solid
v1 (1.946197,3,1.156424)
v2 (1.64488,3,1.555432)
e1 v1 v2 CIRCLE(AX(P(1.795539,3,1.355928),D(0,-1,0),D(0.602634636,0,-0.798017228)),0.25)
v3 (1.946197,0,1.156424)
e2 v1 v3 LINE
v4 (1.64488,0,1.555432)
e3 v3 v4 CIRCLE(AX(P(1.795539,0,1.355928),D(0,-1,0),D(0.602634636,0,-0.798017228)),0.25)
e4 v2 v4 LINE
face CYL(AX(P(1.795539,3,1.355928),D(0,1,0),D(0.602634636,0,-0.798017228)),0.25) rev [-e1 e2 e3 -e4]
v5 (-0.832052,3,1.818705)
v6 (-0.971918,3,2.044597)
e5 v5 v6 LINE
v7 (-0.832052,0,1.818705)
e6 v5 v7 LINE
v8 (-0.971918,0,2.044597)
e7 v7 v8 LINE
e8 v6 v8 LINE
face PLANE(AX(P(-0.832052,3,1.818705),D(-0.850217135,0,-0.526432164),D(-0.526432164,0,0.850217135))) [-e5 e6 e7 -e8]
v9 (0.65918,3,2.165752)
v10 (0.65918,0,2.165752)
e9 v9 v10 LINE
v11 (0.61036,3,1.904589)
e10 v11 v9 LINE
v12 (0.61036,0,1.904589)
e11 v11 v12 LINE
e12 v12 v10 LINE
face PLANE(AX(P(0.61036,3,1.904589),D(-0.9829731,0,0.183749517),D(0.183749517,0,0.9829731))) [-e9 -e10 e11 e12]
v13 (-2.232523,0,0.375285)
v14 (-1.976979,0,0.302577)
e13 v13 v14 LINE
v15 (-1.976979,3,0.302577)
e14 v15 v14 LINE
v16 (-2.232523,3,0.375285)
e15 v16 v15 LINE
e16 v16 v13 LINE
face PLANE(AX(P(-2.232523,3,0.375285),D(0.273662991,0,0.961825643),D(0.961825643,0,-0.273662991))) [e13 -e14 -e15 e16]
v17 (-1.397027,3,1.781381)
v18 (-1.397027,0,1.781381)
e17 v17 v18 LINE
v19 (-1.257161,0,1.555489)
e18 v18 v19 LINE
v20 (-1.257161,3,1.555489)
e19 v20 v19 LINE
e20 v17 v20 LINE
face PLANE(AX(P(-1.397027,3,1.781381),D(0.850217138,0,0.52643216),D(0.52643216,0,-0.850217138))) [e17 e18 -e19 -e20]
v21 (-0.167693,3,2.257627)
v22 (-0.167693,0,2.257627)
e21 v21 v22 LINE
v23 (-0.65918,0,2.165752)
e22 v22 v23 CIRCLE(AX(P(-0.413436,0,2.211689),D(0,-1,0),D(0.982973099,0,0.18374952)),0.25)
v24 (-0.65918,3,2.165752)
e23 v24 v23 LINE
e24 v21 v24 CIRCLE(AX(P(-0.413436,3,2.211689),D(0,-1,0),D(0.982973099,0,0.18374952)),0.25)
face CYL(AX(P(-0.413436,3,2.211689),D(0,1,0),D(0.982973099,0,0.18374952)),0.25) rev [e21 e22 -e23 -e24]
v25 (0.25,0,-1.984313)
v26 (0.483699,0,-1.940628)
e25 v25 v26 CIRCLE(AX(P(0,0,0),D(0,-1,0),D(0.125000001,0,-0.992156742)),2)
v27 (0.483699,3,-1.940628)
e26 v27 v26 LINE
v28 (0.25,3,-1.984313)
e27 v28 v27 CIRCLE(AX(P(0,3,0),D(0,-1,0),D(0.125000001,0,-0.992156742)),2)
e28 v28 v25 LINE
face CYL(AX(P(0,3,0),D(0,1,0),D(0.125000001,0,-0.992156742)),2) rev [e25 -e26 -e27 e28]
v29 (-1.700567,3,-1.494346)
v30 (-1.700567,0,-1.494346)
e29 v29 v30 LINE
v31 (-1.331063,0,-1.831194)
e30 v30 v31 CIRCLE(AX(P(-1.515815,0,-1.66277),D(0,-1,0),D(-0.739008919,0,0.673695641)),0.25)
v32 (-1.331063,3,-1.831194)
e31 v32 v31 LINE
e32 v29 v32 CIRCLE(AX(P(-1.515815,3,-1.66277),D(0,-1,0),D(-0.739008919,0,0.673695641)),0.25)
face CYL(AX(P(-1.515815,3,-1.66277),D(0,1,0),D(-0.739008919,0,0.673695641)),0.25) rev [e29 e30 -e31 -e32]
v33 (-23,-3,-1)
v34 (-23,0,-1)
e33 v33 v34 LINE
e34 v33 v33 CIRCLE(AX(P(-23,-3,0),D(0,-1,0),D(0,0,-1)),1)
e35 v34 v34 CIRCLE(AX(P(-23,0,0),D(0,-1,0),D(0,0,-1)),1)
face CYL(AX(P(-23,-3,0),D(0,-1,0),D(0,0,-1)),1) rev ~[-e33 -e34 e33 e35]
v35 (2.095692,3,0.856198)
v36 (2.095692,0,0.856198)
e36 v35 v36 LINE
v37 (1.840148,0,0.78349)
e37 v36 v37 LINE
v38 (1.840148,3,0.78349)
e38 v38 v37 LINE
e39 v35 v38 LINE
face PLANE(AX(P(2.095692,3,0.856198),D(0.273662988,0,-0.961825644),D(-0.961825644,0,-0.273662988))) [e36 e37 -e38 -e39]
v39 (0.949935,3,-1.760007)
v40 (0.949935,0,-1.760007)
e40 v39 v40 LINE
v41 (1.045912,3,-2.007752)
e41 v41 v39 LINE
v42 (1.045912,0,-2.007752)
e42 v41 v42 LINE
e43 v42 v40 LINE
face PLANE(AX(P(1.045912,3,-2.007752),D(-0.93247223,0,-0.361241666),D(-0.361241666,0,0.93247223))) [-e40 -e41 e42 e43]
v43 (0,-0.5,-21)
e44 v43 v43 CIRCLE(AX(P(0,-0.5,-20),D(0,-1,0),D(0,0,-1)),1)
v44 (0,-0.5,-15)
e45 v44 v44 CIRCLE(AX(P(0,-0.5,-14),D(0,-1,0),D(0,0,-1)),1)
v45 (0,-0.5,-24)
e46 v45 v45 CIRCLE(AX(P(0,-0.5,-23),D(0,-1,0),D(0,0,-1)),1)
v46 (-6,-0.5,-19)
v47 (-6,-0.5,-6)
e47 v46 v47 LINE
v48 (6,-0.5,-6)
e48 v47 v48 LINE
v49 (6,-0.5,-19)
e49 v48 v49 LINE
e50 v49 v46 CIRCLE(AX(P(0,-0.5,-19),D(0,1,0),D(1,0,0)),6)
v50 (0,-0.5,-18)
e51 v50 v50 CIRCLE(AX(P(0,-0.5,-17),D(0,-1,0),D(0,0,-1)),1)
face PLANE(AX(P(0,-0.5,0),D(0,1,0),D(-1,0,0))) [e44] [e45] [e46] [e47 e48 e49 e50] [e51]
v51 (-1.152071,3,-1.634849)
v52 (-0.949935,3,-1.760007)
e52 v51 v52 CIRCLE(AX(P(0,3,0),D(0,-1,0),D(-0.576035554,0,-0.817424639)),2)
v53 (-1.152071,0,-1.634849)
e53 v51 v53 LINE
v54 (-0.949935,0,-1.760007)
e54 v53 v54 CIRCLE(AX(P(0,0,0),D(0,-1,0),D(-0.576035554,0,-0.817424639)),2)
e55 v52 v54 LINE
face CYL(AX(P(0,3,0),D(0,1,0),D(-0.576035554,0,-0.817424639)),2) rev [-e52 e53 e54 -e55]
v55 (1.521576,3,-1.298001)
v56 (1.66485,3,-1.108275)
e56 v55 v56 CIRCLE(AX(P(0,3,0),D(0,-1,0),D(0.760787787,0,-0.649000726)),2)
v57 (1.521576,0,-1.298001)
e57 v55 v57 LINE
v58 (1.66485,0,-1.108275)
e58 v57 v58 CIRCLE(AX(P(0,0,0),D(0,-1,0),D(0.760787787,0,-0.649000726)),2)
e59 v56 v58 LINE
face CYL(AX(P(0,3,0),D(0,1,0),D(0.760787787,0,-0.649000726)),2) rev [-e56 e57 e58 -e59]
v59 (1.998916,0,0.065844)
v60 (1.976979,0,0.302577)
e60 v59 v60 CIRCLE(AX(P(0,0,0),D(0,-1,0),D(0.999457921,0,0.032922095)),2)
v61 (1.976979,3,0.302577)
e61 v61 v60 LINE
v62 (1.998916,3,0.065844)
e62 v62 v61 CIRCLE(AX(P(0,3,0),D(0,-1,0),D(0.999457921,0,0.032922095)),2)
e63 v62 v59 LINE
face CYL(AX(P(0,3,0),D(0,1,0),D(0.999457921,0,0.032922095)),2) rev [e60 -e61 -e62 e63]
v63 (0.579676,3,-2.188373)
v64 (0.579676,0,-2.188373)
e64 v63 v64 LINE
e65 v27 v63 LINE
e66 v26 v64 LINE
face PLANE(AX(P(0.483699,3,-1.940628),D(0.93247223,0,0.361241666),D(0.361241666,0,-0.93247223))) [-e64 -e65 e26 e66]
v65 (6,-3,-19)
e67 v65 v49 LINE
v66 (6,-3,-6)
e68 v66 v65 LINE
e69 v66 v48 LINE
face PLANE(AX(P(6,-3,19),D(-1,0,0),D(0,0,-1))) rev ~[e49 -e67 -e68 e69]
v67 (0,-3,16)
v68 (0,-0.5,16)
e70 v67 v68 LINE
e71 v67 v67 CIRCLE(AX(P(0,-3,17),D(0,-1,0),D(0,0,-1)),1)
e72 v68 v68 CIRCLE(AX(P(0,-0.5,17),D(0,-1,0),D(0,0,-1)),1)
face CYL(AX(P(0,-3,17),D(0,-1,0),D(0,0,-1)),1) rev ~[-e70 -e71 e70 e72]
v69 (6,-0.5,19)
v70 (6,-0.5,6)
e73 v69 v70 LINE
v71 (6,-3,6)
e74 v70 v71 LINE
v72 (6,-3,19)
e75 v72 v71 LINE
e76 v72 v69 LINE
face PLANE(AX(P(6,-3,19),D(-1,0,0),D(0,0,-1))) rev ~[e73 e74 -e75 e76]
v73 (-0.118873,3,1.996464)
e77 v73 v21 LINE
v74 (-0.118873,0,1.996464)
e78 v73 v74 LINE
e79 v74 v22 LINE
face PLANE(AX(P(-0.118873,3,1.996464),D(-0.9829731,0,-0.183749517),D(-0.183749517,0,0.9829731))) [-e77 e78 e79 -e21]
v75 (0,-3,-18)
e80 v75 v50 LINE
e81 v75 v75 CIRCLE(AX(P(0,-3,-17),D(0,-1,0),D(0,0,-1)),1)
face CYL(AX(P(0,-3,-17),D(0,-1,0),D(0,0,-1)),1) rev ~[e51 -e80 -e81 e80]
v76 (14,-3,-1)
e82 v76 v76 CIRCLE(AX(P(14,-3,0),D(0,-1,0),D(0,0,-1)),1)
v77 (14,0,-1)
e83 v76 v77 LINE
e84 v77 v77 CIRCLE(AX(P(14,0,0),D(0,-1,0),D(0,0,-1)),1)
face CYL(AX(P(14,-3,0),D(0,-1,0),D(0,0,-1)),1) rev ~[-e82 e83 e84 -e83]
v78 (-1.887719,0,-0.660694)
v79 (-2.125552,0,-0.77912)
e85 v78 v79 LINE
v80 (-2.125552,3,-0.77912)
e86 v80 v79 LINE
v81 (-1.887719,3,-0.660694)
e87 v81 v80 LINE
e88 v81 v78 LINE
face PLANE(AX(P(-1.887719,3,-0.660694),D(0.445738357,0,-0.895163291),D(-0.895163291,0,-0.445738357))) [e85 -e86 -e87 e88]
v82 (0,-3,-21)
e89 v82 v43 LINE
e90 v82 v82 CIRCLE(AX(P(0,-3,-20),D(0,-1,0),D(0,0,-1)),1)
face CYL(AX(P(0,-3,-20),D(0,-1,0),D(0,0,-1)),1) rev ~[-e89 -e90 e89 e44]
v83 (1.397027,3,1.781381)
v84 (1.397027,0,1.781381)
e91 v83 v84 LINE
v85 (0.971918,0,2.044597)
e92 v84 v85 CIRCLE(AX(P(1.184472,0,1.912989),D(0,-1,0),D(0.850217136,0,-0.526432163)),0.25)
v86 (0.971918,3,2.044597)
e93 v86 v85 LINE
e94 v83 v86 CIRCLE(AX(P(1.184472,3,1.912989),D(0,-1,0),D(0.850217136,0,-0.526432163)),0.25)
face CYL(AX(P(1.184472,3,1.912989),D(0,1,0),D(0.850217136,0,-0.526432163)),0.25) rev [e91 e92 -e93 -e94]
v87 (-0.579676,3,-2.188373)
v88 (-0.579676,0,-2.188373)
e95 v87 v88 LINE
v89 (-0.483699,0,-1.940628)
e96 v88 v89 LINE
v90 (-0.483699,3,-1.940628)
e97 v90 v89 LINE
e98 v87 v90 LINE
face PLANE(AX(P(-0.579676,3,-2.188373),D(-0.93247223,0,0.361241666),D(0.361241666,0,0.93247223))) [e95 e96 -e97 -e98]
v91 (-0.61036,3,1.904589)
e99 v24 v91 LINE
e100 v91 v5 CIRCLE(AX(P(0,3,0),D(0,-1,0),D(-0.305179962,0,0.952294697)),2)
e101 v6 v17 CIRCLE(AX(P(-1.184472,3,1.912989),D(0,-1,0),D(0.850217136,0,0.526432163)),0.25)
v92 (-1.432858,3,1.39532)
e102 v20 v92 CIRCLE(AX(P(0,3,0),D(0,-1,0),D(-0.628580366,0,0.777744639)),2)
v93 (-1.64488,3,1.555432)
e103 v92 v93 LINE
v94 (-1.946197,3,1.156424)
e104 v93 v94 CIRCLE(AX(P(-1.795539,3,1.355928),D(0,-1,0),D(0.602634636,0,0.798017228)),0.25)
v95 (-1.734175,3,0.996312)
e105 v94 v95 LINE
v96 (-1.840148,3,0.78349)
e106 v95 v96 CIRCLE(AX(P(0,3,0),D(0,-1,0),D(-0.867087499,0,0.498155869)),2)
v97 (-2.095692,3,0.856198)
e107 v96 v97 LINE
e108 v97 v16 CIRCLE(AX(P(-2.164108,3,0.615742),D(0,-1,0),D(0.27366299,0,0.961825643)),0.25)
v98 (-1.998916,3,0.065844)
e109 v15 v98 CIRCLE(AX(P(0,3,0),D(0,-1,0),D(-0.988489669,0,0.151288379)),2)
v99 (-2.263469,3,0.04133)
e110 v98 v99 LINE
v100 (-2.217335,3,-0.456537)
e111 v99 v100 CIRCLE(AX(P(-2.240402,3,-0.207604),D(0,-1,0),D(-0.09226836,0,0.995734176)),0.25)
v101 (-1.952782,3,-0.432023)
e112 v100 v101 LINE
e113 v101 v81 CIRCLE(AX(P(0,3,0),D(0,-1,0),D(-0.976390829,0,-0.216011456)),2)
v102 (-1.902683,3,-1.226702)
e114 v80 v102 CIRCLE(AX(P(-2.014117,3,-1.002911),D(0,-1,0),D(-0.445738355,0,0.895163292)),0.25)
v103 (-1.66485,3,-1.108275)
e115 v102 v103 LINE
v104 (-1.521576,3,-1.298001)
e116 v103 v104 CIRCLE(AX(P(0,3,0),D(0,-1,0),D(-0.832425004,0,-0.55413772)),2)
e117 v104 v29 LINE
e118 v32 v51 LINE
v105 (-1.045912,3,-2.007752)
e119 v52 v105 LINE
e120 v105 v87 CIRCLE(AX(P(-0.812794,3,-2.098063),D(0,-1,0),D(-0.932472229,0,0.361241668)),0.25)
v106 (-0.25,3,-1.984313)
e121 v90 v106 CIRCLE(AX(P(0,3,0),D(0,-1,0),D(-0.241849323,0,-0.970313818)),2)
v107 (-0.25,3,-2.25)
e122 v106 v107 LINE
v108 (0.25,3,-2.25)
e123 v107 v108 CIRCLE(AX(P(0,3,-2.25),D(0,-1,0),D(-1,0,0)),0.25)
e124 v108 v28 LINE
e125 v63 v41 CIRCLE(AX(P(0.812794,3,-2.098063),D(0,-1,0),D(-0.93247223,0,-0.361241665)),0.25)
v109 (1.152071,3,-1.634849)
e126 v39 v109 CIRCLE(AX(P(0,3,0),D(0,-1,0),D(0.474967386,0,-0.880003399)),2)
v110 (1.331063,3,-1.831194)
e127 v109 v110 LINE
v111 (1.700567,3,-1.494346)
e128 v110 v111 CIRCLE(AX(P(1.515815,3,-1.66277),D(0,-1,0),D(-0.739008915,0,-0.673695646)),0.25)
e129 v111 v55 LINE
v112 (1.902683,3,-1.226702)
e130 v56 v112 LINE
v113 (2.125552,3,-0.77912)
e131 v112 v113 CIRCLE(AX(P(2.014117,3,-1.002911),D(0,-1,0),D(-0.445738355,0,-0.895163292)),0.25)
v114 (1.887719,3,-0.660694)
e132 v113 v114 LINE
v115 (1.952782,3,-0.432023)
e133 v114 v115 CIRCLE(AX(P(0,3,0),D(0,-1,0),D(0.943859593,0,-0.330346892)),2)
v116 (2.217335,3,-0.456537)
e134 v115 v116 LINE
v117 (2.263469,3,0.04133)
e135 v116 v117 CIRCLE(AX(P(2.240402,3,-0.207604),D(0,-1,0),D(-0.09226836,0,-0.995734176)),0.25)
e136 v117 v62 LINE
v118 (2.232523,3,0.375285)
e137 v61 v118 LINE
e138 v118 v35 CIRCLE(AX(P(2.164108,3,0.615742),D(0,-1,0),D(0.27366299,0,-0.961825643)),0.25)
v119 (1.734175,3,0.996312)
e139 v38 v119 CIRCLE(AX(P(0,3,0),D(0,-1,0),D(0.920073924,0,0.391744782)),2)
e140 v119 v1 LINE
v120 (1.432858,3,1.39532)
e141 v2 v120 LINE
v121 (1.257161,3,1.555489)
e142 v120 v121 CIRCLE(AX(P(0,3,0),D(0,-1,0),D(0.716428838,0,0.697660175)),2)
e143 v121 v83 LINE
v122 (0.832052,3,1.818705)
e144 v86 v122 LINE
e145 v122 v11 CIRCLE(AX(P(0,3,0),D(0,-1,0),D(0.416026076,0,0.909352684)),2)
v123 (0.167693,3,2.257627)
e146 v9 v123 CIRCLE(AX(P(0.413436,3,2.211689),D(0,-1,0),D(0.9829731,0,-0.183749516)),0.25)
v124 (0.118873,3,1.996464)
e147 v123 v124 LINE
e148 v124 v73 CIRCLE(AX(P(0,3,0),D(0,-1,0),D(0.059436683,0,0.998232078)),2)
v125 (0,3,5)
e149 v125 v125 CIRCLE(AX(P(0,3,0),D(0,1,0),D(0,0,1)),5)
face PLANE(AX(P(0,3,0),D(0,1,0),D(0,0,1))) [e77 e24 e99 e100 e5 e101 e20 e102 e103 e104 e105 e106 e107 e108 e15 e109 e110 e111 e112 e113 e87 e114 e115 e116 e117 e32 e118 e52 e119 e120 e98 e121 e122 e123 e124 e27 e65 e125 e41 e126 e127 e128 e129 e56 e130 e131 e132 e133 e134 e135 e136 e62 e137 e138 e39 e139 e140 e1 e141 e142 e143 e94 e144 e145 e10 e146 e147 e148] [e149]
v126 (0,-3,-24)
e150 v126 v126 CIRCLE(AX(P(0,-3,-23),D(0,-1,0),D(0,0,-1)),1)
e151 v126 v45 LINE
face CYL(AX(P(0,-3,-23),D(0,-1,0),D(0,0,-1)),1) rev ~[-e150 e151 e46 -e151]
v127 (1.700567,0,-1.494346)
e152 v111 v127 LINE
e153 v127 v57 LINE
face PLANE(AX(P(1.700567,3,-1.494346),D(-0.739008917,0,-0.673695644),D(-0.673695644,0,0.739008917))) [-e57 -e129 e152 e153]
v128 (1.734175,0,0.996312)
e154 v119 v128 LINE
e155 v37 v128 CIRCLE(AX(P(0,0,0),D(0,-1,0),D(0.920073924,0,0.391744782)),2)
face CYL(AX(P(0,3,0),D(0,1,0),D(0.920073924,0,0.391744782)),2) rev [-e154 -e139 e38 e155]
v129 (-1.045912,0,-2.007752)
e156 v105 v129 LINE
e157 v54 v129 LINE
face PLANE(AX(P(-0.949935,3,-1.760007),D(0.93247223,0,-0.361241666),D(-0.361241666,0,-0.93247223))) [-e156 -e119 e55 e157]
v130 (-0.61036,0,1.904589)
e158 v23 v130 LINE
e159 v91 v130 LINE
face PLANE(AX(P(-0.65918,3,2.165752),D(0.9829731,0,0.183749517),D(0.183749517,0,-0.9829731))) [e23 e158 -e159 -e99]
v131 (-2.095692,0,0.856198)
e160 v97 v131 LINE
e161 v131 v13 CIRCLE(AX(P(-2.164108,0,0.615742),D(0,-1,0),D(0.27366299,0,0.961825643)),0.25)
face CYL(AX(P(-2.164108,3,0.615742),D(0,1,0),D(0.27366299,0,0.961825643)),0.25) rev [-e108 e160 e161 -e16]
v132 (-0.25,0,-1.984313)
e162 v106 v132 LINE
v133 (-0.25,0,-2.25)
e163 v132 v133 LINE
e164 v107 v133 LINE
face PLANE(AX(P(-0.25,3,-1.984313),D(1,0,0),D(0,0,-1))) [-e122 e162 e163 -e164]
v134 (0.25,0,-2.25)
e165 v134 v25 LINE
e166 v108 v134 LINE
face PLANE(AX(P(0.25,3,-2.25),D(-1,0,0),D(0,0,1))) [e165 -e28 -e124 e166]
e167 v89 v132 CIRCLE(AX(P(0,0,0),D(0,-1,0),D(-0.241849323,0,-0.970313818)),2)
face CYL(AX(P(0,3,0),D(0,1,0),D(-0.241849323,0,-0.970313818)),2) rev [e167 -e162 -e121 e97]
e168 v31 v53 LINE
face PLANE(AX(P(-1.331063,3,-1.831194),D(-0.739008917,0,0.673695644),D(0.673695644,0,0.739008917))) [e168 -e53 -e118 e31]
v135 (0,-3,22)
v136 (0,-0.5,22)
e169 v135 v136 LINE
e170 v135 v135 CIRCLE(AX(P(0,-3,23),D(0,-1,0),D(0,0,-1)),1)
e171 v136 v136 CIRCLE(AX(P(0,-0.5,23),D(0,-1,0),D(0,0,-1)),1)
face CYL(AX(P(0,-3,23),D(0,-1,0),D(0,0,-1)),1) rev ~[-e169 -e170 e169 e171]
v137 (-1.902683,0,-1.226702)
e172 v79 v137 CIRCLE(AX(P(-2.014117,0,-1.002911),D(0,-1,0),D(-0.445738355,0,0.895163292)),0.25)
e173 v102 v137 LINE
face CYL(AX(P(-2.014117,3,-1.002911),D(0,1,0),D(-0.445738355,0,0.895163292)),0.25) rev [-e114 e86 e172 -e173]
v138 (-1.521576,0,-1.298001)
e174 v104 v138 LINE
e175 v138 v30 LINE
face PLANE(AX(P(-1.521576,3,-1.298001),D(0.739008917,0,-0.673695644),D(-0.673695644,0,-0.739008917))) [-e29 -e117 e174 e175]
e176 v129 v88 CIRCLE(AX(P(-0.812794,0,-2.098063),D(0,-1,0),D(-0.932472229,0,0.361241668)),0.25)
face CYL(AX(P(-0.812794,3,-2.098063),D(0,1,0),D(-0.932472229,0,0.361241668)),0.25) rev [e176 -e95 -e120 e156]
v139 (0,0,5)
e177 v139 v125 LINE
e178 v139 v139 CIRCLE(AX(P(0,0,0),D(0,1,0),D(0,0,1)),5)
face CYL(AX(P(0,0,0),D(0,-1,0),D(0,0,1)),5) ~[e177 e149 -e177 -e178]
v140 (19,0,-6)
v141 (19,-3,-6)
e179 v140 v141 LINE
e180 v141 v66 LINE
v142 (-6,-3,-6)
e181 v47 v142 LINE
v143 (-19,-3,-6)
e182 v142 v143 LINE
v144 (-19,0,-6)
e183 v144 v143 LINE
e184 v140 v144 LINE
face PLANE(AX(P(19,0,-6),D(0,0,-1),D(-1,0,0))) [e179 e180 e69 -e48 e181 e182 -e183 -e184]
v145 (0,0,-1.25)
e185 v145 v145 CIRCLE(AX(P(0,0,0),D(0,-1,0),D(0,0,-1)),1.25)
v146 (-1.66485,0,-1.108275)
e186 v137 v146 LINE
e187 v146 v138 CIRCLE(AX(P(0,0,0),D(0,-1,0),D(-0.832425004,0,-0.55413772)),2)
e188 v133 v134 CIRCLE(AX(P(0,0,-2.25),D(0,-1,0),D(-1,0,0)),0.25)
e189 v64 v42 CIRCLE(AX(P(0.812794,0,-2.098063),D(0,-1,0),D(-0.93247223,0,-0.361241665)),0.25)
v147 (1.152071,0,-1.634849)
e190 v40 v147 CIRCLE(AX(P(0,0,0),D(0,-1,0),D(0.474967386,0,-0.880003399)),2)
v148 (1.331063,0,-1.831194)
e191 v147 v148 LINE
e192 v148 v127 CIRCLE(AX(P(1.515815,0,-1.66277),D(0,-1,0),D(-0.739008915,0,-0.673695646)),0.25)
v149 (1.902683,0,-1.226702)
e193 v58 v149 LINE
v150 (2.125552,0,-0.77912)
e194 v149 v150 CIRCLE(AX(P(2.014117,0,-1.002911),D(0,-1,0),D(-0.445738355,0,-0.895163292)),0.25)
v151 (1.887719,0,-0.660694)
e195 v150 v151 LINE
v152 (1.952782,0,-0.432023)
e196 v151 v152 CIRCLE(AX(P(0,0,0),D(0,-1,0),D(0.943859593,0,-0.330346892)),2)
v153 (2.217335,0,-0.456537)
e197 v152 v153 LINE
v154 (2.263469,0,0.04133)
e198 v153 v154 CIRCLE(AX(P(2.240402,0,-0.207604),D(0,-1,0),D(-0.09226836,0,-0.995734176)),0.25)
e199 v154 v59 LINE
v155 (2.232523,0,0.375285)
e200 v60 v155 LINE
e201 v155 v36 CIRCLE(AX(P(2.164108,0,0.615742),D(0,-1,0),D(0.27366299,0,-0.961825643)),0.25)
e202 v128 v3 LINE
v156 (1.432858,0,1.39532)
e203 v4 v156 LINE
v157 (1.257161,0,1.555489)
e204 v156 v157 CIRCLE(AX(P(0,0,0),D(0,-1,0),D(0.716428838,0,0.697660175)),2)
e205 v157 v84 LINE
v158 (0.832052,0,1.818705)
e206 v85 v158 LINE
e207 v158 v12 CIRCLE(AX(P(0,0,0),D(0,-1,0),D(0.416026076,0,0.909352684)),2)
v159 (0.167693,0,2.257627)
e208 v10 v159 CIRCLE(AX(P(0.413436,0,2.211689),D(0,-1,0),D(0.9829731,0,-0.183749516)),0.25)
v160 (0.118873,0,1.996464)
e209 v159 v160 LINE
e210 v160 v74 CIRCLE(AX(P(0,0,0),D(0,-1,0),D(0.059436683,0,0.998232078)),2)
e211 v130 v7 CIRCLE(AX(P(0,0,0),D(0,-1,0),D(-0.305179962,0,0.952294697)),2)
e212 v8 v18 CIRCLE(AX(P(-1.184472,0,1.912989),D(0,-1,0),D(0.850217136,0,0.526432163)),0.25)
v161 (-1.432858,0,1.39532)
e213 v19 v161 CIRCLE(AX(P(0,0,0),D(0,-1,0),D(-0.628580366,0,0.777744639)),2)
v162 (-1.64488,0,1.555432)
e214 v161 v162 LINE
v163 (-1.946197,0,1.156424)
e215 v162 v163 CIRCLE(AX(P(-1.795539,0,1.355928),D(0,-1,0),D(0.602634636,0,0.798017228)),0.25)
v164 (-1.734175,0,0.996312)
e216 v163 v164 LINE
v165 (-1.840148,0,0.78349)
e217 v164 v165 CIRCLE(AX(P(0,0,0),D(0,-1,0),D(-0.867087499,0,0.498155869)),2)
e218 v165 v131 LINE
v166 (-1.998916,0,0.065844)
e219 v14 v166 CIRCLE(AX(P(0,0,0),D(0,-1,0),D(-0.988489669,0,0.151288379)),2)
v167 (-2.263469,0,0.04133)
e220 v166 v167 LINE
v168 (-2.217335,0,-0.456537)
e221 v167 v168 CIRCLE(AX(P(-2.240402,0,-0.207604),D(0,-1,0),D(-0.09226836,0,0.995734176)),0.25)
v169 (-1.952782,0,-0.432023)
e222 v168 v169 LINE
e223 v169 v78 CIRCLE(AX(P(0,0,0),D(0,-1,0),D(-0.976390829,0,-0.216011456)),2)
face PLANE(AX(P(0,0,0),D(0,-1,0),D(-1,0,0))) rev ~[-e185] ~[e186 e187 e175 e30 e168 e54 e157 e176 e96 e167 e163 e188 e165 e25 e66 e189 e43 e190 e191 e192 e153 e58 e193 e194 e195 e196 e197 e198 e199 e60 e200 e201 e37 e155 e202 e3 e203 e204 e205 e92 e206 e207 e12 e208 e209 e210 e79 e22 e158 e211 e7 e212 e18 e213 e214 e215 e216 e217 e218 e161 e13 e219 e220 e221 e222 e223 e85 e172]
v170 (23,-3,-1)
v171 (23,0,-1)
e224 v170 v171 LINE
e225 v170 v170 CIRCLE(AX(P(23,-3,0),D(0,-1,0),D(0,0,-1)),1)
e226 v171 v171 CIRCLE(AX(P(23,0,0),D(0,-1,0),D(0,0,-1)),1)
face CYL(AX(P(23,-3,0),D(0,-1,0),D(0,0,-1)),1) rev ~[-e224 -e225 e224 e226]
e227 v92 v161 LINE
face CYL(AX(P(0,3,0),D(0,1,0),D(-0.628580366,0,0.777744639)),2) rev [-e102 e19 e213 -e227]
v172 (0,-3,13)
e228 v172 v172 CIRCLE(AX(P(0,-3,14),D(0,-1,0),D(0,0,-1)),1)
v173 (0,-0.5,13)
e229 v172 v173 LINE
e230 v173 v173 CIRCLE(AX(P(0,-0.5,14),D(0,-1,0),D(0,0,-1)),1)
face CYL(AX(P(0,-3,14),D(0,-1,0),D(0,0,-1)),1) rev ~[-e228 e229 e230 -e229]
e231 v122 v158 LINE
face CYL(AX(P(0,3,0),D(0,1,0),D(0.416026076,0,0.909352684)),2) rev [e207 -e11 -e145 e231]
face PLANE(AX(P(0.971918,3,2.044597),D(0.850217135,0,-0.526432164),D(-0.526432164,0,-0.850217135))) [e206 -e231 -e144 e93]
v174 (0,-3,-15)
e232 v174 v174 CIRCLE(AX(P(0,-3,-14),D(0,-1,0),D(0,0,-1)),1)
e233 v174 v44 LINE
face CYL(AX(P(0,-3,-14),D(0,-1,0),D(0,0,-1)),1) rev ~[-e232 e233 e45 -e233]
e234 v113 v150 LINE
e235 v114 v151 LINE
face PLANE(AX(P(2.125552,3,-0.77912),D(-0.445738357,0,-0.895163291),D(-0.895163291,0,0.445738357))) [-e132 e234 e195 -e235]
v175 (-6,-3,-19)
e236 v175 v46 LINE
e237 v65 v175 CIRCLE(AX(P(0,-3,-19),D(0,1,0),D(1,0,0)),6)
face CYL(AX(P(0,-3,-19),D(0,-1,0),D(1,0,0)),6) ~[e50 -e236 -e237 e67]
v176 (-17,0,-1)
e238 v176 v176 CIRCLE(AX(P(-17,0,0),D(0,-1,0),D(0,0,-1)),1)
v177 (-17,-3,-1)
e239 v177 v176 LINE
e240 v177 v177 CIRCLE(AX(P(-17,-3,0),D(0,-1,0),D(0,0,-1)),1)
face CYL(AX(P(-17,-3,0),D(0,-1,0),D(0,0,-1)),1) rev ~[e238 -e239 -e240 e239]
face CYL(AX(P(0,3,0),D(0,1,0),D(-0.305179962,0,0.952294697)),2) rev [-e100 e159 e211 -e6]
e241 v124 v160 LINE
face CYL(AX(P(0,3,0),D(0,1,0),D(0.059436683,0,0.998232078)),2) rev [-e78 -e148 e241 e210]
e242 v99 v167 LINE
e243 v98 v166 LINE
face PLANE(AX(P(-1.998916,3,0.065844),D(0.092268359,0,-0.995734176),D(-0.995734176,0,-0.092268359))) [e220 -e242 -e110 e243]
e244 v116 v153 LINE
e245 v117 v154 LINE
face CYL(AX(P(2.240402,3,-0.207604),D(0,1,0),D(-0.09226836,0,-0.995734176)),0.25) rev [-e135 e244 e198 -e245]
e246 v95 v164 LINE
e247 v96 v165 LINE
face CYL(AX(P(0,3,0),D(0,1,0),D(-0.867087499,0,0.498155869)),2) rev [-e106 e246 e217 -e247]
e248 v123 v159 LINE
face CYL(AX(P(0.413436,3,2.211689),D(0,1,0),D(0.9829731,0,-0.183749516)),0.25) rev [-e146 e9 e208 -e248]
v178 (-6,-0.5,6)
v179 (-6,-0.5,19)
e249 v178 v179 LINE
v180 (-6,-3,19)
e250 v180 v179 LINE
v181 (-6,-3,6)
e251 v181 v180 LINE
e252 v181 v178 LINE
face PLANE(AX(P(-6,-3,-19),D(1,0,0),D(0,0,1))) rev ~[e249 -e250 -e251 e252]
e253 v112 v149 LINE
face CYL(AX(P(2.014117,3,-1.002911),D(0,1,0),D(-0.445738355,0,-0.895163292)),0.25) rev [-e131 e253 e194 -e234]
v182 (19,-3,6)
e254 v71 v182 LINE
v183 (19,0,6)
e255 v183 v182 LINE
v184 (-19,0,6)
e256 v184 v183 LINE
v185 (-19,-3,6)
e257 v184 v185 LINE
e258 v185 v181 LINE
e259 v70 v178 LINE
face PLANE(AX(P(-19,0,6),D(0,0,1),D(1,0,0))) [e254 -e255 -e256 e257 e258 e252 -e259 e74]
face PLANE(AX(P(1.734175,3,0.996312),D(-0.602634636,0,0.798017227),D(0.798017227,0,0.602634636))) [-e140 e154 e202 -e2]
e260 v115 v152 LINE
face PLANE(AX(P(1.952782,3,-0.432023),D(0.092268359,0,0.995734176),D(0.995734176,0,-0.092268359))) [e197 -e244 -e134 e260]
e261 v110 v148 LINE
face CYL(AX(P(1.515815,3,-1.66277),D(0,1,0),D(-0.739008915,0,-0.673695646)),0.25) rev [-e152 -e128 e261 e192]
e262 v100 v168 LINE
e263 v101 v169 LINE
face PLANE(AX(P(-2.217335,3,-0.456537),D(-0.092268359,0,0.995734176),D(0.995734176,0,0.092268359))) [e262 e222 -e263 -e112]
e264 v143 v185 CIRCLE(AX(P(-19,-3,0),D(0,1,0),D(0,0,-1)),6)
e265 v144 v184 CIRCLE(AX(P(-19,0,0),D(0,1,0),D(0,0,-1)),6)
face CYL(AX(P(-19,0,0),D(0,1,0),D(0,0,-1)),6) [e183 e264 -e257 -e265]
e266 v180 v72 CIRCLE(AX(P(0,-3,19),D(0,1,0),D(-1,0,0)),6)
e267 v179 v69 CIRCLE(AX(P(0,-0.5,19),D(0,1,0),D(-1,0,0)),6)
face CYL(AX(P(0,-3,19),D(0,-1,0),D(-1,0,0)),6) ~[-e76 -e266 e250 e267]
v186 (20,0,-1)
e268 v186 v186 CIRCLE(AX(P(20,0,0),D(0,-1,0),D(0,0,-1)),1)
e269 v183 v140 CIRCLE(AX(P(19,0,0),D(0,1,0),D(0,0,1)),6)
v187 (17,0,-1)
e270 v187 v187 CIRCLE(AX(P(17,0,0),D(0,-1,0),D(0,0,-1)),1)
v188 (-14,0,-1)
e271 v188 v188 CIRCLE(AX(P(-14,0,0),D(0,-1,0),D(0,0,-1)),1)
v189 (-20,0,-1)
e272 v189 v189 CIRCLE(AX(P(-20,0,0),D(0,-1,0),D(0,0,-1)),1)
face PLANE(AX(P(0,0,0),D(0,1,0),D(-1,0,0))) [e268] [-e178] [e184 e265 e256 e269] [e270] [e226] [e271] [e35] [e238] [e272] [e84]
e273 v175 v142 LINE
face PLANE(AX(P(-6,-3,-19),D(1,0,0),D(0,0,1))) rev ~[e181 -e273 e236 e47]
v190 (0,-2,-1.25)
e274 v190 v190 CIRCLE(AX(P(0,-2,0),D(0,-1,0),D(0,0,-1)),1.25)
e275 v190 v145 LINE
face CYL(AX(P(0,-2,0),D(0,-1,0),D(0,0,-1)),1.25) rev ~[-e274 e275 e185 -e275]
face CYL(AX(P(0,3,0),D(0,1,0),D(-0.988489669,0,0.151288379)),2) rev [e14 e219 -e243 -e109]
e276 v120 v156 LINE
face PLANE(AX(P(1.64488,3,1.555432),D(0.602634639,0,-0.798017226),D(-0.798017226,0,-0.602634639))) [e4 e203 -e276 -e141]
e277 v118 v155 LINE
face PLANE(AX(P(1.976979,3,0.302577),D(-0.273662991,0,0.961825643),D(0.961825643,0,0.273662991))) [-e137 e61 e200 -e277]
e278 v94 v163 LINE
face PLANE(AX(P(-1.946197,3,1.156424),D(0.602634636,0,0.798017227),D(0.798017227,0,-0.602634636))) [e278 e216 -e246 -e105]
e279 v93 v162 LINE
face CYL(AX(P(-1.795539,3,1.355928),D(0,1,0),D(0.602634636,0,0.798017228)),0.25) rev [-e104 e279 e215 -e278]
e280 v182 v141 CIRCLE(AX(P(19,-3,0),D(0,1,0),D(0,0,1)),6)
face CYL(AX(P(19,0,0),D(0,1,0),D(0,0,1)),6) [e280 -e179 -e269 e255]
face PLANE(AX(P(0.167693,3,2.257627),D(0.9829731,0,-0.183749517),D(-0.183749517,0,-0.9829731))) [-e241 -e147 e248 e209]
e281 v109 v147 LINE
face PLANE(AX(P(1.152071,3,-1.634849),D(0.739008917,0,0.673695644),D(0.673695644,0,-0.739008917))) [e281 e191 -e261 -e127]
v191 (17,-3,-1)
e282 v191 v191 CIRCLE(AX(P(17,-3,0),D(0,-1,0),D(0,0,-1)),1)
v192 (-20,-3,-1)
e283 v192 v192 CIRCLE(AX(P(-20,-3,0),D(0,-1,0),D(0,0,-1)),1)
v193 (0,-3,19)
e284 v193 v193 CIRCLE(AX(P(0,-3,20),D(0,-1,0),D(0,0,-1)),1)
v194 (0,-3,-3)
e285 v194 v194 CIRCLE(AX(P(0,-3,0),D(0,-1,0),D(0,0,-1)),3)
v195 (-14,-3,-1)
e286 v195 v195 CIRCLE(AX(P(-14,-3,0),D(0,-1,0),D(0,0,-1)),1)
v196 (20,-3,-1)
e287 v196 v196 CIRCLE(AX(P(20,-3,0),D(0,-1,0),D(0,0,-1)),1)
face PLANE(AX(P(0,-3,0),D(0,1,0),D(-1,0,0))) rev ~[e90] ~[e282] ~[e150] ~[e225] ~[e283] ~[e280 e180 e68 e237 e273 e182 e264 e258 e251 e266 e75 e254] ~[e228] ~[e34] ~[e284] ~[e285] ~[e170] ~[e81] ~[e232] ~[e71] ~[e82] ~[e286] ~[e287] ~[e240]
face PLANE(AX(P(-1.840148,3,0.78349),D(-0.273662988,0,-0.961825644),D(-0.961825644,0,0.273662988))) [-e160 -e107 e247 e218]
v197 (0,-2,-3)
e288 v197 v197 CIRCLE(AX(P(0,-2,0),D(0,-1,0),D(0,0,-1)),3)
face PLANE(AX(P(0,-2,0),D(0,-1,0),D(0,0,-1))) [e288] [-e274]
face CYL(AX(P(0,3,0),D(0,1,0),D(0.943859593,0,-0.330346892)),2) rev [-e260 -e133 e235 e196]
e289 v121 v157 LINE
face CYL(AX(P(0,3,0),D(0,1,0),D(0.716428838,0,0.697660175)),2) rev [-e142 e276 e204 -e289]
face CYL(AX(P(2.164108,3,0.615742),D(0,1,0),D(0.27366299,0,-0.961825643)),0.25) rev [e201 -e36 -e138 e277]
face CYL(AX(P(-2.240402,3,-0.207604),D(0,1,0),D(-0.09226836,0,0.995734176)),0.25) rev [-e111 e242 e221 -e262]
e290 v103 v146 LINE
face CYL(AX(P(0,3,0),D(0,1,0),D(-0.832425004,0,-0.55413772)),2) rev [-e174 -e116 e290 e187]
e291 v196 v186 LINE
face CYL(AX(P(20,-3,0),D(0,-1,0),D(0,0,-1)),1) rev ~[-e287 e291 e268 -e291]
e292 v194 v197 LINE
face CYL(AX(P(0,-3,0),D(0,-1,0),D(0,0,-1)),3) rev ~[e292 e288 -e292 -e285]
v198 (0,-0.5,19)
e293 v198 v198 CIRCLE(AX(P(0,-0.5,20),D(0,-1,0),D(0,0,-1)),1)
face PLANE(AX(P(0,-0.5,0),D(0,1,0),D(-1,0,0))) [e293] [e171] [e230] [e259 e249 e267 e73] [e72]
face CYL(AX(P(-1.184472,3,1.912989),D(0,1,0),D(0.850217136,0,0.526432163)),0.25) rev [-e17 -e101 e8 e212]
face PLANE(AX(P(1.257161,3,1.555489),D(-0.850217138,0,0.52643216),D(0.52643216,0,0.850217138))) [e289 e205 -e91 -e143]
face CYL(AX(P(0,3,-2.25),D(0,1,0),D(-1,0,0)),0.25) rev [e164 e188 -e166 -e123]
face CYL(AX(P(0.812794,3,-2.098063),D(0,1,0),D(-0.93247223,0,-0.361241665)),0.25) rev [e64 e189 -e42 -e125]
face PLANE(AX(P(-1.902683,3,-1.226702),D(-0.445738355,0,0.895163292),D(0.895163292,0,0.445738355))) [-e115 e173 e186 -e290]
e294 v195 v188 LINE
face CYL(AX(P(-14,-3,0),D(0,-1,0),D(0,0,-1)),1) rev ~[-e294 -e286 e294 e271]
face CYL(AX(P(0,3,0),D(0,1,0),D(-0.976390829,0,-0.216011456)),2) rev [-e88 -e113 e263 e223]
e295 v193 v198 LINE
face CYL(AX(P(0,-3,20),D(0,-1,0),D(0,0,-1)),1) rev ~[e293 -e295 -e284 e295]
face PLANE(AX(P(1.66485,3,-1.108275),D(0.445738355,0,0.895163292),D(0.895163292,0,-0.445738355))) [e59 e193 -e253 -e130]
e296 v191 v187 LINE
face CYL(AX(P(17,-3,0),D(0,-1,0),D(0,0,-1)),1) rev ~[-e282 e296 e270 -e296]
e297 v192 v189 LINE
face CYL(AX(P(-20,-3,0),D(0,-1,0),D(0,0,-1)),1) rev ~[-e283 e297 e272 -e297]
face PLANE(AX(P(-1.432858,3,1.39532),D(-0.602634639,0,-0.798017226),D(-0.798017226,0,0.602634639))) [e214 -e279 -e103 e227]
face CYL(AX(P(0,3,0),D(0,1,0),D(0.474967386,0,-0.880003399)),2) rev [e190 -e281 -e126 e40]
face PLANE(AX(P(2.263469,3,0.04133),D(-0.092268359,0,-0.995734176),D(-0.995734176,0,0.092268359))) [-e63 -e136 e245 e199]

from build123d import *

# Parameters (mm, degrees)
SKETCH1_R           = 5
BOSS_EXTRUDE1_DEPTH = 3
BOSS_EXTRUDE2_DEPTH = 3
BOSS_EXTRUDE3_DEPTH = 2.5
SKETCH4_R           = 3
CUT_EXTRUDE1_DEPTH  = 1
SKETCH5_R           = 1.25
CUT_EXTRUDE2_DEPTH  = 36.707142143
CUT_EXTRUDE3_DEPTH  = 3
SKETCH7_R           = 1
CUT_EXTRUDE4_DEPTH  = 36.860842154


with BuildPart() as part:
    # Sketch1 → Boss-Extrude1 (new body)
    with BuildSketch(Plane(origin=(0, 0, 0), x_dir=(1, 0, 0), z_dir=(0, 1, 0))):
        with Locations(Location((0, 0, 0), (0, 0, 270))):
            Circle(SKETCH1_R)
    extrude(amount=BOSS_EXTRUDE1_DEPTH)

    # Sketch2 → Boss-Extrude2 (add)
    with BuildSketch(Plane.XZ):
        with BuildLine():
            Line((-19, 6), (19, 6))
            ThreePointArc((19, 6), (25, 0), (19, -6))
            Line((19, -6), (-19, -6))
            ThreePointArc((-19, -6), (-25, 0), (-19, 6))
        make_face()
    extrude(amount=BOSS_EXTRUDE2_DEPTH)

    # Sketch3 → Boss-Extrude3 (add)
    with BuildSketch(Plane.XZ.offset(3)):
        with BuildLine():
            Line((-6, -19), (-6, 19))
            ThreePointArc((-6, 19), (0, 25), (6, 19))
            Line((6, 19), (6, -19))
            ThreePointArc((6, -19), (0, -25), (-6, -19))
        make_face()
    extrude(amount=-BOSS_EXTRUDE3_DEPTH)

    # Sketch4 → Cut-Extrude1 (cut)
    with BuildSketch(Plane.XZ.offset(3)):
        with Locations(Location((0, 0, 0), (0, 0, 270))):
            Circle(SKETCH4_R)
    extrude(amount=-CUT_EXTRUDE1_DEPTH, mode=Mode.SUBTRACT)

    # Sketch5 → Cut-Extrude2 (cut, through all)
    with BuildSketch(Plane.XZ.offset(2)):
        with Locations(Location((0, 0, 0), (0, 0, 270))):
            Circle(SKETCH5_R)
    extrude(amount=-CUT_EXTRUDE2_DEPTH, mode=Mode.SUBTRACT)

    # Sketch6 → Cut-Extrude3 (cut)
    with BuildSketch(Plane(origin=(0, 3, 0), x_dir=(1, 0, 0), z_dir=(0, 1, 0))):
        with BuildLine():
            Line((0.25, 2.25), (0.25, 1.984313483))
            ThreePointArc((0.25, 1.984313483), (0.367499036, 1.965946199), (0.483698652, 1.940627634))
            Line((0.483698652, 1.940627634), (0.579675692, 2.188372933))
            ThreePointArc((0.579675692, 2.188372933), (0.903104165, 2.331180574), (1.045911806, 2.0077521))
            Line((1.045911806, 2.0077521), (0.949934766, 1.760006801))
            ThreePointArc((0.949934766, 1.760006801), (1.052864326, 1.700434271), (1.15207112, 1.63484927))
            Line((1.15207112, 1.63484927), (1.331062969, 1.831193975))
            ThreePointArc((1.331062969, 1.831193975), (1.684239109, 1.847522293), (1.700567428, 1.494346153))
            Line((1.700567428, 1.494346153), (1.521575579, 1.298001448))
            ThreePointArc((1.521575579, 1.298001448), (1.596034455, 1.205269273), (1.66485, 1.108275452))
            Line((1.66485, 1.108275452), (1.902682817, 1.226702123))
            ThreePointArc((1.902682817, 1.226702123), (2.237908228, 1.114345889), (2.125551994, 0.779120478))
            Line((2.125551994, 0.779120478), (1.887719178, 0.660693807))
            ThreePointArc((1.887719178, 0.660693807), (1.923651286, 0.54732598), (1.952781662, 0.432022894))
            Line((1.952781662, 0.432022894), (2.217334807, 0.456537353))
            ThreePointArc((2.217334807, 0.456537353), (2.489335441, 0.230670899), (2.263468987, -0.041329735))
            Line((2.263468987, -0.041329735), (1.998915842, -0.065844194))
            ThreePointArc((1.998915842, -0.065844194), (1.991468353, -0.184536719), (1.97697934, -0.30257675))
            Line((1.97697934, -0.30257675), (2.232523445, -0.375285317))
            ThreePointArc((2.232523445, -0.375285317), (2.404564108, -0.684157475), (2.09569195, -0.856198138))
            Line((2.09569195, -0.856198138), (1.840147845, -0.783489572))
            ThreePointArc((1.840147845, -0.783489572), (1.790326583, -0.891476712), (1.734175003, -0.996311728))
            Line((1.734175003, -0.996311728), (1.94619742, -1.156423625))
            ThreePointArc((1.94619742, -1.156423625), (1.995043068, -1.506586591), (1.644880102, -1.555432239))
            Line((1.644880102, -1.555432239), (1.432857685, -1.395320341))
            ThreePointArc((1.432857685, -1.395320341), (1.347391287, -1.478017834), (1.257160723, -1.555489285))
            Line((1.257160723, -1.555489285), (1.39702665, -1.781380515))
            ThreePointArc((1.39702665, -1.781380515), (1.316080407, -2.125542839), (0.971918083, -2.044596596))
            Line((0.971918083, -2.044596596), (0.832052155, -1.818705367))
            ThreePointArc((0.832052155, -1.818705367), (0.722483332, -1.864944459), (0.610359921, -1.904589396))
            Line((0.610359921, -1.904589396), (0.65917969, -2.165752095))
            ThreePointArc((0.65917969, -2.165752095), (0.459373795, -2.457432749), (0.16769314, -2.257626854))
            Line((0.16769314, -2.257626854), (0.118873371, -1.996464155))
            ThreePointArc((0.118873371, -1.996464155), (0, -2), (-0.118873371, -1.996464155))
            Line((-0.118873371, -1.996464155), (-0.16769314, -2.257626854))
            ThreePointArc((-0.16769314, -2.257626854), (-0.459373795, -2.457432749), (-0.65917969, -2.165752095))
            Line((-0.65917969, -2.165752095), (-0.610359921, -1.904589396))
            ThreePointArc((-0.610359921, -1.904589396), (-0.722483332, -1.864944459), (-0.832052155, -1.818705367))
            Line((-0.832052155, -1.818705367), (-0.971918083, -2.044596596))
            ThreePointArc((-0.971918083, -2.044596596), (-1.316080407, -2.125542839), (-1.39702665, -1.781380515))
            Line((-1.39702665, -1.781380515), (-1.257160723, -1.555489285))
            ThreePointArc((-1.257160723, -1.555489285), (-1.347391287, -1.478017834), (-1.432857685, -1.395320341))
            Line((-1.432857685, -1.395320341), (-1.644880102, -1.555432239))
            ThreePointArc((-1.644880102, -1.555432239), (-1.995043068, -1.506586591), (-1.94619742, -1.156423625))
            Line((-1.94619742, -1.156423625), (-1.734175003, -0.996311728))
            ThreePointArc((-1.734175003, -0.996311728), (-1.790326583, -0.891476712), (-1.840147845, -0.783489572))
            Line((-1.840147845, -0.783489572), (-2.09569195, -0.856198138))
            ThreePointArc((-2.09569195, -0.856198138), (-2.404564108, -0.684157475), (-2.232523445, -0.375285317))
            Line((-2.232523445, -0.375285317), (-1.97697934, -0.30257675))
            ThreePointArc((-1.97697934, -0.30257675), (-1.991468353, -0.184536719), (-1.998915842, -0.065844194))
            Line((-1.998915842, -0.065844194), (-2.263468987, -0.041329735))
            ThreePointArc((-2.263468987, -0.041329735), (-2.489335441, 0.230670899), (-2.217334807, 0.456537353))
            Line((-2.217334807, 0.456537353), (-1.952781662, 0.432022894))
            ThreePointArc((-1.952781662, 0.432022894), (-1.923651286, 0.54732598), (-1.887719178, 0.660693807))
            Line((-1.887719178, 0.660693807), (-2.125551994, 0.779120478))
            ThreePointArc((-2.125551994, 0.779120478), (-2.237908228, 1.114345889), (-1.902682817, 1.226702123))
            Line((-1.902682817, 1.226702123), (-1.66485, 1.108275452))
            ThreePointArc((-1.66485, 1.108275452), (-1.596034455, 1.205269273), (-1.521575579, 1.298001448))
            Line((-1.521575579, 1.298001448), (-1.700567428, 1.494346153))
            ThreePointArc((-1.700567428, 1.494346153), (-1.684239109, 1.847522293), (-1.331062969, 1.831193975))
            Line((-1.331062969, 1.831193975), (-1.15207112, 1.63484927))
            ThreePointArc((-1.15207112, 1.63484927), (-1.052864326, 1.700434271), (-0.949934766, 1.760006801))
            Line((-0.949934766, 1.760006801), (-1.045911806, 2.0077521))
            ThreePointArc((-1.045911806, 2.0077521), (-0.903104165, 2.331180574), (-0.579675692, 2.188372933))
            Line((-0.579675692, 2.188372933), (-0.483698652, 1.940627634))
            ThreePointArc((-0.483698652, 1.940627634), (-0.367499036, 1.965946199), (-0.25, 1.984313483))
            Line((-0.25, 1.984313483), (-0.25, 2.25))
            ThreePointArc((-0.25, 2.25), (0, 2.5), (0.25, 2.25))
        make_face()
    extrude(amount=-CUT_EXTRUDE3_DEPTH, mode=Mode.SUBTRACT)

    # Sketch7 → Cut-Extrude4 (cut, through all)
    with BuildSketch(Plane.XZ.offset(3)):
        with Locations(Location((0, 23, 0), (0, 0, 270))):
            Circle(SKETCH7_R)
        with Locations(Location((0, 20, 0), (0, 0, 270))):
            Circle(SKETCH7_R)
        with Locations(Location((0, 17, 0), (0, 0, 270))):
            Circle(SKETCH7_R)
        with Locations(Location((0, 14, 0), (0, 0, 270))):
            Circle(SKETCH7_R)
        with Locations(Location((23, 0, 0), (0, 0, 270))):
            Circle(SKETCH7_R)
        with Locations(Location((20, 0, 0), (0, 0, 270))):
            Circle(SKETCH7_R)
        with Locations(Location((17, 0, 0), (0, 0, 270))):
            Circle(SKETCH7_R)
        with Locations(Location((14, 0, 0), (0, 0, 270))):
            Circle(SKETCH7_R)
        with Locations(Location((0, -23, 0), (0, 0, 270))):
            Circle(SKETCH7_R)
        with Locations(Location((0, -20, 0), (0, 0, 270))):
            Circle(SKETCH7_R)
        with Locations(Location((0, -17, 0), (0, 0, 270))):
            Circle(SKETCH7_R)
        with Locations(Location((0, -14, 0), (0, 0, 270))):
            Circle(SKETCH7_R)
        with Locations(Location((-23, 0, 0), (0, 0, 270))):
            Circle(SKETCH7_R)
        with Locations(Location((-20, 0, 0), (0, 0, 270))):
            Circle(SKETCH7_R)
        with Locations(Location((-17, 0, 0), (0, 0, 270))):
            Circle(SKETCH7_R)
        with Locations(Location((-14, 0, 0), (0, 0, 270))):
            Circle(SKETCH7_R)
    extrude(amount=-CUT_EXTRUDE4_DEPTH, mode=Mode.SUBTRACT)


solid = part.part
